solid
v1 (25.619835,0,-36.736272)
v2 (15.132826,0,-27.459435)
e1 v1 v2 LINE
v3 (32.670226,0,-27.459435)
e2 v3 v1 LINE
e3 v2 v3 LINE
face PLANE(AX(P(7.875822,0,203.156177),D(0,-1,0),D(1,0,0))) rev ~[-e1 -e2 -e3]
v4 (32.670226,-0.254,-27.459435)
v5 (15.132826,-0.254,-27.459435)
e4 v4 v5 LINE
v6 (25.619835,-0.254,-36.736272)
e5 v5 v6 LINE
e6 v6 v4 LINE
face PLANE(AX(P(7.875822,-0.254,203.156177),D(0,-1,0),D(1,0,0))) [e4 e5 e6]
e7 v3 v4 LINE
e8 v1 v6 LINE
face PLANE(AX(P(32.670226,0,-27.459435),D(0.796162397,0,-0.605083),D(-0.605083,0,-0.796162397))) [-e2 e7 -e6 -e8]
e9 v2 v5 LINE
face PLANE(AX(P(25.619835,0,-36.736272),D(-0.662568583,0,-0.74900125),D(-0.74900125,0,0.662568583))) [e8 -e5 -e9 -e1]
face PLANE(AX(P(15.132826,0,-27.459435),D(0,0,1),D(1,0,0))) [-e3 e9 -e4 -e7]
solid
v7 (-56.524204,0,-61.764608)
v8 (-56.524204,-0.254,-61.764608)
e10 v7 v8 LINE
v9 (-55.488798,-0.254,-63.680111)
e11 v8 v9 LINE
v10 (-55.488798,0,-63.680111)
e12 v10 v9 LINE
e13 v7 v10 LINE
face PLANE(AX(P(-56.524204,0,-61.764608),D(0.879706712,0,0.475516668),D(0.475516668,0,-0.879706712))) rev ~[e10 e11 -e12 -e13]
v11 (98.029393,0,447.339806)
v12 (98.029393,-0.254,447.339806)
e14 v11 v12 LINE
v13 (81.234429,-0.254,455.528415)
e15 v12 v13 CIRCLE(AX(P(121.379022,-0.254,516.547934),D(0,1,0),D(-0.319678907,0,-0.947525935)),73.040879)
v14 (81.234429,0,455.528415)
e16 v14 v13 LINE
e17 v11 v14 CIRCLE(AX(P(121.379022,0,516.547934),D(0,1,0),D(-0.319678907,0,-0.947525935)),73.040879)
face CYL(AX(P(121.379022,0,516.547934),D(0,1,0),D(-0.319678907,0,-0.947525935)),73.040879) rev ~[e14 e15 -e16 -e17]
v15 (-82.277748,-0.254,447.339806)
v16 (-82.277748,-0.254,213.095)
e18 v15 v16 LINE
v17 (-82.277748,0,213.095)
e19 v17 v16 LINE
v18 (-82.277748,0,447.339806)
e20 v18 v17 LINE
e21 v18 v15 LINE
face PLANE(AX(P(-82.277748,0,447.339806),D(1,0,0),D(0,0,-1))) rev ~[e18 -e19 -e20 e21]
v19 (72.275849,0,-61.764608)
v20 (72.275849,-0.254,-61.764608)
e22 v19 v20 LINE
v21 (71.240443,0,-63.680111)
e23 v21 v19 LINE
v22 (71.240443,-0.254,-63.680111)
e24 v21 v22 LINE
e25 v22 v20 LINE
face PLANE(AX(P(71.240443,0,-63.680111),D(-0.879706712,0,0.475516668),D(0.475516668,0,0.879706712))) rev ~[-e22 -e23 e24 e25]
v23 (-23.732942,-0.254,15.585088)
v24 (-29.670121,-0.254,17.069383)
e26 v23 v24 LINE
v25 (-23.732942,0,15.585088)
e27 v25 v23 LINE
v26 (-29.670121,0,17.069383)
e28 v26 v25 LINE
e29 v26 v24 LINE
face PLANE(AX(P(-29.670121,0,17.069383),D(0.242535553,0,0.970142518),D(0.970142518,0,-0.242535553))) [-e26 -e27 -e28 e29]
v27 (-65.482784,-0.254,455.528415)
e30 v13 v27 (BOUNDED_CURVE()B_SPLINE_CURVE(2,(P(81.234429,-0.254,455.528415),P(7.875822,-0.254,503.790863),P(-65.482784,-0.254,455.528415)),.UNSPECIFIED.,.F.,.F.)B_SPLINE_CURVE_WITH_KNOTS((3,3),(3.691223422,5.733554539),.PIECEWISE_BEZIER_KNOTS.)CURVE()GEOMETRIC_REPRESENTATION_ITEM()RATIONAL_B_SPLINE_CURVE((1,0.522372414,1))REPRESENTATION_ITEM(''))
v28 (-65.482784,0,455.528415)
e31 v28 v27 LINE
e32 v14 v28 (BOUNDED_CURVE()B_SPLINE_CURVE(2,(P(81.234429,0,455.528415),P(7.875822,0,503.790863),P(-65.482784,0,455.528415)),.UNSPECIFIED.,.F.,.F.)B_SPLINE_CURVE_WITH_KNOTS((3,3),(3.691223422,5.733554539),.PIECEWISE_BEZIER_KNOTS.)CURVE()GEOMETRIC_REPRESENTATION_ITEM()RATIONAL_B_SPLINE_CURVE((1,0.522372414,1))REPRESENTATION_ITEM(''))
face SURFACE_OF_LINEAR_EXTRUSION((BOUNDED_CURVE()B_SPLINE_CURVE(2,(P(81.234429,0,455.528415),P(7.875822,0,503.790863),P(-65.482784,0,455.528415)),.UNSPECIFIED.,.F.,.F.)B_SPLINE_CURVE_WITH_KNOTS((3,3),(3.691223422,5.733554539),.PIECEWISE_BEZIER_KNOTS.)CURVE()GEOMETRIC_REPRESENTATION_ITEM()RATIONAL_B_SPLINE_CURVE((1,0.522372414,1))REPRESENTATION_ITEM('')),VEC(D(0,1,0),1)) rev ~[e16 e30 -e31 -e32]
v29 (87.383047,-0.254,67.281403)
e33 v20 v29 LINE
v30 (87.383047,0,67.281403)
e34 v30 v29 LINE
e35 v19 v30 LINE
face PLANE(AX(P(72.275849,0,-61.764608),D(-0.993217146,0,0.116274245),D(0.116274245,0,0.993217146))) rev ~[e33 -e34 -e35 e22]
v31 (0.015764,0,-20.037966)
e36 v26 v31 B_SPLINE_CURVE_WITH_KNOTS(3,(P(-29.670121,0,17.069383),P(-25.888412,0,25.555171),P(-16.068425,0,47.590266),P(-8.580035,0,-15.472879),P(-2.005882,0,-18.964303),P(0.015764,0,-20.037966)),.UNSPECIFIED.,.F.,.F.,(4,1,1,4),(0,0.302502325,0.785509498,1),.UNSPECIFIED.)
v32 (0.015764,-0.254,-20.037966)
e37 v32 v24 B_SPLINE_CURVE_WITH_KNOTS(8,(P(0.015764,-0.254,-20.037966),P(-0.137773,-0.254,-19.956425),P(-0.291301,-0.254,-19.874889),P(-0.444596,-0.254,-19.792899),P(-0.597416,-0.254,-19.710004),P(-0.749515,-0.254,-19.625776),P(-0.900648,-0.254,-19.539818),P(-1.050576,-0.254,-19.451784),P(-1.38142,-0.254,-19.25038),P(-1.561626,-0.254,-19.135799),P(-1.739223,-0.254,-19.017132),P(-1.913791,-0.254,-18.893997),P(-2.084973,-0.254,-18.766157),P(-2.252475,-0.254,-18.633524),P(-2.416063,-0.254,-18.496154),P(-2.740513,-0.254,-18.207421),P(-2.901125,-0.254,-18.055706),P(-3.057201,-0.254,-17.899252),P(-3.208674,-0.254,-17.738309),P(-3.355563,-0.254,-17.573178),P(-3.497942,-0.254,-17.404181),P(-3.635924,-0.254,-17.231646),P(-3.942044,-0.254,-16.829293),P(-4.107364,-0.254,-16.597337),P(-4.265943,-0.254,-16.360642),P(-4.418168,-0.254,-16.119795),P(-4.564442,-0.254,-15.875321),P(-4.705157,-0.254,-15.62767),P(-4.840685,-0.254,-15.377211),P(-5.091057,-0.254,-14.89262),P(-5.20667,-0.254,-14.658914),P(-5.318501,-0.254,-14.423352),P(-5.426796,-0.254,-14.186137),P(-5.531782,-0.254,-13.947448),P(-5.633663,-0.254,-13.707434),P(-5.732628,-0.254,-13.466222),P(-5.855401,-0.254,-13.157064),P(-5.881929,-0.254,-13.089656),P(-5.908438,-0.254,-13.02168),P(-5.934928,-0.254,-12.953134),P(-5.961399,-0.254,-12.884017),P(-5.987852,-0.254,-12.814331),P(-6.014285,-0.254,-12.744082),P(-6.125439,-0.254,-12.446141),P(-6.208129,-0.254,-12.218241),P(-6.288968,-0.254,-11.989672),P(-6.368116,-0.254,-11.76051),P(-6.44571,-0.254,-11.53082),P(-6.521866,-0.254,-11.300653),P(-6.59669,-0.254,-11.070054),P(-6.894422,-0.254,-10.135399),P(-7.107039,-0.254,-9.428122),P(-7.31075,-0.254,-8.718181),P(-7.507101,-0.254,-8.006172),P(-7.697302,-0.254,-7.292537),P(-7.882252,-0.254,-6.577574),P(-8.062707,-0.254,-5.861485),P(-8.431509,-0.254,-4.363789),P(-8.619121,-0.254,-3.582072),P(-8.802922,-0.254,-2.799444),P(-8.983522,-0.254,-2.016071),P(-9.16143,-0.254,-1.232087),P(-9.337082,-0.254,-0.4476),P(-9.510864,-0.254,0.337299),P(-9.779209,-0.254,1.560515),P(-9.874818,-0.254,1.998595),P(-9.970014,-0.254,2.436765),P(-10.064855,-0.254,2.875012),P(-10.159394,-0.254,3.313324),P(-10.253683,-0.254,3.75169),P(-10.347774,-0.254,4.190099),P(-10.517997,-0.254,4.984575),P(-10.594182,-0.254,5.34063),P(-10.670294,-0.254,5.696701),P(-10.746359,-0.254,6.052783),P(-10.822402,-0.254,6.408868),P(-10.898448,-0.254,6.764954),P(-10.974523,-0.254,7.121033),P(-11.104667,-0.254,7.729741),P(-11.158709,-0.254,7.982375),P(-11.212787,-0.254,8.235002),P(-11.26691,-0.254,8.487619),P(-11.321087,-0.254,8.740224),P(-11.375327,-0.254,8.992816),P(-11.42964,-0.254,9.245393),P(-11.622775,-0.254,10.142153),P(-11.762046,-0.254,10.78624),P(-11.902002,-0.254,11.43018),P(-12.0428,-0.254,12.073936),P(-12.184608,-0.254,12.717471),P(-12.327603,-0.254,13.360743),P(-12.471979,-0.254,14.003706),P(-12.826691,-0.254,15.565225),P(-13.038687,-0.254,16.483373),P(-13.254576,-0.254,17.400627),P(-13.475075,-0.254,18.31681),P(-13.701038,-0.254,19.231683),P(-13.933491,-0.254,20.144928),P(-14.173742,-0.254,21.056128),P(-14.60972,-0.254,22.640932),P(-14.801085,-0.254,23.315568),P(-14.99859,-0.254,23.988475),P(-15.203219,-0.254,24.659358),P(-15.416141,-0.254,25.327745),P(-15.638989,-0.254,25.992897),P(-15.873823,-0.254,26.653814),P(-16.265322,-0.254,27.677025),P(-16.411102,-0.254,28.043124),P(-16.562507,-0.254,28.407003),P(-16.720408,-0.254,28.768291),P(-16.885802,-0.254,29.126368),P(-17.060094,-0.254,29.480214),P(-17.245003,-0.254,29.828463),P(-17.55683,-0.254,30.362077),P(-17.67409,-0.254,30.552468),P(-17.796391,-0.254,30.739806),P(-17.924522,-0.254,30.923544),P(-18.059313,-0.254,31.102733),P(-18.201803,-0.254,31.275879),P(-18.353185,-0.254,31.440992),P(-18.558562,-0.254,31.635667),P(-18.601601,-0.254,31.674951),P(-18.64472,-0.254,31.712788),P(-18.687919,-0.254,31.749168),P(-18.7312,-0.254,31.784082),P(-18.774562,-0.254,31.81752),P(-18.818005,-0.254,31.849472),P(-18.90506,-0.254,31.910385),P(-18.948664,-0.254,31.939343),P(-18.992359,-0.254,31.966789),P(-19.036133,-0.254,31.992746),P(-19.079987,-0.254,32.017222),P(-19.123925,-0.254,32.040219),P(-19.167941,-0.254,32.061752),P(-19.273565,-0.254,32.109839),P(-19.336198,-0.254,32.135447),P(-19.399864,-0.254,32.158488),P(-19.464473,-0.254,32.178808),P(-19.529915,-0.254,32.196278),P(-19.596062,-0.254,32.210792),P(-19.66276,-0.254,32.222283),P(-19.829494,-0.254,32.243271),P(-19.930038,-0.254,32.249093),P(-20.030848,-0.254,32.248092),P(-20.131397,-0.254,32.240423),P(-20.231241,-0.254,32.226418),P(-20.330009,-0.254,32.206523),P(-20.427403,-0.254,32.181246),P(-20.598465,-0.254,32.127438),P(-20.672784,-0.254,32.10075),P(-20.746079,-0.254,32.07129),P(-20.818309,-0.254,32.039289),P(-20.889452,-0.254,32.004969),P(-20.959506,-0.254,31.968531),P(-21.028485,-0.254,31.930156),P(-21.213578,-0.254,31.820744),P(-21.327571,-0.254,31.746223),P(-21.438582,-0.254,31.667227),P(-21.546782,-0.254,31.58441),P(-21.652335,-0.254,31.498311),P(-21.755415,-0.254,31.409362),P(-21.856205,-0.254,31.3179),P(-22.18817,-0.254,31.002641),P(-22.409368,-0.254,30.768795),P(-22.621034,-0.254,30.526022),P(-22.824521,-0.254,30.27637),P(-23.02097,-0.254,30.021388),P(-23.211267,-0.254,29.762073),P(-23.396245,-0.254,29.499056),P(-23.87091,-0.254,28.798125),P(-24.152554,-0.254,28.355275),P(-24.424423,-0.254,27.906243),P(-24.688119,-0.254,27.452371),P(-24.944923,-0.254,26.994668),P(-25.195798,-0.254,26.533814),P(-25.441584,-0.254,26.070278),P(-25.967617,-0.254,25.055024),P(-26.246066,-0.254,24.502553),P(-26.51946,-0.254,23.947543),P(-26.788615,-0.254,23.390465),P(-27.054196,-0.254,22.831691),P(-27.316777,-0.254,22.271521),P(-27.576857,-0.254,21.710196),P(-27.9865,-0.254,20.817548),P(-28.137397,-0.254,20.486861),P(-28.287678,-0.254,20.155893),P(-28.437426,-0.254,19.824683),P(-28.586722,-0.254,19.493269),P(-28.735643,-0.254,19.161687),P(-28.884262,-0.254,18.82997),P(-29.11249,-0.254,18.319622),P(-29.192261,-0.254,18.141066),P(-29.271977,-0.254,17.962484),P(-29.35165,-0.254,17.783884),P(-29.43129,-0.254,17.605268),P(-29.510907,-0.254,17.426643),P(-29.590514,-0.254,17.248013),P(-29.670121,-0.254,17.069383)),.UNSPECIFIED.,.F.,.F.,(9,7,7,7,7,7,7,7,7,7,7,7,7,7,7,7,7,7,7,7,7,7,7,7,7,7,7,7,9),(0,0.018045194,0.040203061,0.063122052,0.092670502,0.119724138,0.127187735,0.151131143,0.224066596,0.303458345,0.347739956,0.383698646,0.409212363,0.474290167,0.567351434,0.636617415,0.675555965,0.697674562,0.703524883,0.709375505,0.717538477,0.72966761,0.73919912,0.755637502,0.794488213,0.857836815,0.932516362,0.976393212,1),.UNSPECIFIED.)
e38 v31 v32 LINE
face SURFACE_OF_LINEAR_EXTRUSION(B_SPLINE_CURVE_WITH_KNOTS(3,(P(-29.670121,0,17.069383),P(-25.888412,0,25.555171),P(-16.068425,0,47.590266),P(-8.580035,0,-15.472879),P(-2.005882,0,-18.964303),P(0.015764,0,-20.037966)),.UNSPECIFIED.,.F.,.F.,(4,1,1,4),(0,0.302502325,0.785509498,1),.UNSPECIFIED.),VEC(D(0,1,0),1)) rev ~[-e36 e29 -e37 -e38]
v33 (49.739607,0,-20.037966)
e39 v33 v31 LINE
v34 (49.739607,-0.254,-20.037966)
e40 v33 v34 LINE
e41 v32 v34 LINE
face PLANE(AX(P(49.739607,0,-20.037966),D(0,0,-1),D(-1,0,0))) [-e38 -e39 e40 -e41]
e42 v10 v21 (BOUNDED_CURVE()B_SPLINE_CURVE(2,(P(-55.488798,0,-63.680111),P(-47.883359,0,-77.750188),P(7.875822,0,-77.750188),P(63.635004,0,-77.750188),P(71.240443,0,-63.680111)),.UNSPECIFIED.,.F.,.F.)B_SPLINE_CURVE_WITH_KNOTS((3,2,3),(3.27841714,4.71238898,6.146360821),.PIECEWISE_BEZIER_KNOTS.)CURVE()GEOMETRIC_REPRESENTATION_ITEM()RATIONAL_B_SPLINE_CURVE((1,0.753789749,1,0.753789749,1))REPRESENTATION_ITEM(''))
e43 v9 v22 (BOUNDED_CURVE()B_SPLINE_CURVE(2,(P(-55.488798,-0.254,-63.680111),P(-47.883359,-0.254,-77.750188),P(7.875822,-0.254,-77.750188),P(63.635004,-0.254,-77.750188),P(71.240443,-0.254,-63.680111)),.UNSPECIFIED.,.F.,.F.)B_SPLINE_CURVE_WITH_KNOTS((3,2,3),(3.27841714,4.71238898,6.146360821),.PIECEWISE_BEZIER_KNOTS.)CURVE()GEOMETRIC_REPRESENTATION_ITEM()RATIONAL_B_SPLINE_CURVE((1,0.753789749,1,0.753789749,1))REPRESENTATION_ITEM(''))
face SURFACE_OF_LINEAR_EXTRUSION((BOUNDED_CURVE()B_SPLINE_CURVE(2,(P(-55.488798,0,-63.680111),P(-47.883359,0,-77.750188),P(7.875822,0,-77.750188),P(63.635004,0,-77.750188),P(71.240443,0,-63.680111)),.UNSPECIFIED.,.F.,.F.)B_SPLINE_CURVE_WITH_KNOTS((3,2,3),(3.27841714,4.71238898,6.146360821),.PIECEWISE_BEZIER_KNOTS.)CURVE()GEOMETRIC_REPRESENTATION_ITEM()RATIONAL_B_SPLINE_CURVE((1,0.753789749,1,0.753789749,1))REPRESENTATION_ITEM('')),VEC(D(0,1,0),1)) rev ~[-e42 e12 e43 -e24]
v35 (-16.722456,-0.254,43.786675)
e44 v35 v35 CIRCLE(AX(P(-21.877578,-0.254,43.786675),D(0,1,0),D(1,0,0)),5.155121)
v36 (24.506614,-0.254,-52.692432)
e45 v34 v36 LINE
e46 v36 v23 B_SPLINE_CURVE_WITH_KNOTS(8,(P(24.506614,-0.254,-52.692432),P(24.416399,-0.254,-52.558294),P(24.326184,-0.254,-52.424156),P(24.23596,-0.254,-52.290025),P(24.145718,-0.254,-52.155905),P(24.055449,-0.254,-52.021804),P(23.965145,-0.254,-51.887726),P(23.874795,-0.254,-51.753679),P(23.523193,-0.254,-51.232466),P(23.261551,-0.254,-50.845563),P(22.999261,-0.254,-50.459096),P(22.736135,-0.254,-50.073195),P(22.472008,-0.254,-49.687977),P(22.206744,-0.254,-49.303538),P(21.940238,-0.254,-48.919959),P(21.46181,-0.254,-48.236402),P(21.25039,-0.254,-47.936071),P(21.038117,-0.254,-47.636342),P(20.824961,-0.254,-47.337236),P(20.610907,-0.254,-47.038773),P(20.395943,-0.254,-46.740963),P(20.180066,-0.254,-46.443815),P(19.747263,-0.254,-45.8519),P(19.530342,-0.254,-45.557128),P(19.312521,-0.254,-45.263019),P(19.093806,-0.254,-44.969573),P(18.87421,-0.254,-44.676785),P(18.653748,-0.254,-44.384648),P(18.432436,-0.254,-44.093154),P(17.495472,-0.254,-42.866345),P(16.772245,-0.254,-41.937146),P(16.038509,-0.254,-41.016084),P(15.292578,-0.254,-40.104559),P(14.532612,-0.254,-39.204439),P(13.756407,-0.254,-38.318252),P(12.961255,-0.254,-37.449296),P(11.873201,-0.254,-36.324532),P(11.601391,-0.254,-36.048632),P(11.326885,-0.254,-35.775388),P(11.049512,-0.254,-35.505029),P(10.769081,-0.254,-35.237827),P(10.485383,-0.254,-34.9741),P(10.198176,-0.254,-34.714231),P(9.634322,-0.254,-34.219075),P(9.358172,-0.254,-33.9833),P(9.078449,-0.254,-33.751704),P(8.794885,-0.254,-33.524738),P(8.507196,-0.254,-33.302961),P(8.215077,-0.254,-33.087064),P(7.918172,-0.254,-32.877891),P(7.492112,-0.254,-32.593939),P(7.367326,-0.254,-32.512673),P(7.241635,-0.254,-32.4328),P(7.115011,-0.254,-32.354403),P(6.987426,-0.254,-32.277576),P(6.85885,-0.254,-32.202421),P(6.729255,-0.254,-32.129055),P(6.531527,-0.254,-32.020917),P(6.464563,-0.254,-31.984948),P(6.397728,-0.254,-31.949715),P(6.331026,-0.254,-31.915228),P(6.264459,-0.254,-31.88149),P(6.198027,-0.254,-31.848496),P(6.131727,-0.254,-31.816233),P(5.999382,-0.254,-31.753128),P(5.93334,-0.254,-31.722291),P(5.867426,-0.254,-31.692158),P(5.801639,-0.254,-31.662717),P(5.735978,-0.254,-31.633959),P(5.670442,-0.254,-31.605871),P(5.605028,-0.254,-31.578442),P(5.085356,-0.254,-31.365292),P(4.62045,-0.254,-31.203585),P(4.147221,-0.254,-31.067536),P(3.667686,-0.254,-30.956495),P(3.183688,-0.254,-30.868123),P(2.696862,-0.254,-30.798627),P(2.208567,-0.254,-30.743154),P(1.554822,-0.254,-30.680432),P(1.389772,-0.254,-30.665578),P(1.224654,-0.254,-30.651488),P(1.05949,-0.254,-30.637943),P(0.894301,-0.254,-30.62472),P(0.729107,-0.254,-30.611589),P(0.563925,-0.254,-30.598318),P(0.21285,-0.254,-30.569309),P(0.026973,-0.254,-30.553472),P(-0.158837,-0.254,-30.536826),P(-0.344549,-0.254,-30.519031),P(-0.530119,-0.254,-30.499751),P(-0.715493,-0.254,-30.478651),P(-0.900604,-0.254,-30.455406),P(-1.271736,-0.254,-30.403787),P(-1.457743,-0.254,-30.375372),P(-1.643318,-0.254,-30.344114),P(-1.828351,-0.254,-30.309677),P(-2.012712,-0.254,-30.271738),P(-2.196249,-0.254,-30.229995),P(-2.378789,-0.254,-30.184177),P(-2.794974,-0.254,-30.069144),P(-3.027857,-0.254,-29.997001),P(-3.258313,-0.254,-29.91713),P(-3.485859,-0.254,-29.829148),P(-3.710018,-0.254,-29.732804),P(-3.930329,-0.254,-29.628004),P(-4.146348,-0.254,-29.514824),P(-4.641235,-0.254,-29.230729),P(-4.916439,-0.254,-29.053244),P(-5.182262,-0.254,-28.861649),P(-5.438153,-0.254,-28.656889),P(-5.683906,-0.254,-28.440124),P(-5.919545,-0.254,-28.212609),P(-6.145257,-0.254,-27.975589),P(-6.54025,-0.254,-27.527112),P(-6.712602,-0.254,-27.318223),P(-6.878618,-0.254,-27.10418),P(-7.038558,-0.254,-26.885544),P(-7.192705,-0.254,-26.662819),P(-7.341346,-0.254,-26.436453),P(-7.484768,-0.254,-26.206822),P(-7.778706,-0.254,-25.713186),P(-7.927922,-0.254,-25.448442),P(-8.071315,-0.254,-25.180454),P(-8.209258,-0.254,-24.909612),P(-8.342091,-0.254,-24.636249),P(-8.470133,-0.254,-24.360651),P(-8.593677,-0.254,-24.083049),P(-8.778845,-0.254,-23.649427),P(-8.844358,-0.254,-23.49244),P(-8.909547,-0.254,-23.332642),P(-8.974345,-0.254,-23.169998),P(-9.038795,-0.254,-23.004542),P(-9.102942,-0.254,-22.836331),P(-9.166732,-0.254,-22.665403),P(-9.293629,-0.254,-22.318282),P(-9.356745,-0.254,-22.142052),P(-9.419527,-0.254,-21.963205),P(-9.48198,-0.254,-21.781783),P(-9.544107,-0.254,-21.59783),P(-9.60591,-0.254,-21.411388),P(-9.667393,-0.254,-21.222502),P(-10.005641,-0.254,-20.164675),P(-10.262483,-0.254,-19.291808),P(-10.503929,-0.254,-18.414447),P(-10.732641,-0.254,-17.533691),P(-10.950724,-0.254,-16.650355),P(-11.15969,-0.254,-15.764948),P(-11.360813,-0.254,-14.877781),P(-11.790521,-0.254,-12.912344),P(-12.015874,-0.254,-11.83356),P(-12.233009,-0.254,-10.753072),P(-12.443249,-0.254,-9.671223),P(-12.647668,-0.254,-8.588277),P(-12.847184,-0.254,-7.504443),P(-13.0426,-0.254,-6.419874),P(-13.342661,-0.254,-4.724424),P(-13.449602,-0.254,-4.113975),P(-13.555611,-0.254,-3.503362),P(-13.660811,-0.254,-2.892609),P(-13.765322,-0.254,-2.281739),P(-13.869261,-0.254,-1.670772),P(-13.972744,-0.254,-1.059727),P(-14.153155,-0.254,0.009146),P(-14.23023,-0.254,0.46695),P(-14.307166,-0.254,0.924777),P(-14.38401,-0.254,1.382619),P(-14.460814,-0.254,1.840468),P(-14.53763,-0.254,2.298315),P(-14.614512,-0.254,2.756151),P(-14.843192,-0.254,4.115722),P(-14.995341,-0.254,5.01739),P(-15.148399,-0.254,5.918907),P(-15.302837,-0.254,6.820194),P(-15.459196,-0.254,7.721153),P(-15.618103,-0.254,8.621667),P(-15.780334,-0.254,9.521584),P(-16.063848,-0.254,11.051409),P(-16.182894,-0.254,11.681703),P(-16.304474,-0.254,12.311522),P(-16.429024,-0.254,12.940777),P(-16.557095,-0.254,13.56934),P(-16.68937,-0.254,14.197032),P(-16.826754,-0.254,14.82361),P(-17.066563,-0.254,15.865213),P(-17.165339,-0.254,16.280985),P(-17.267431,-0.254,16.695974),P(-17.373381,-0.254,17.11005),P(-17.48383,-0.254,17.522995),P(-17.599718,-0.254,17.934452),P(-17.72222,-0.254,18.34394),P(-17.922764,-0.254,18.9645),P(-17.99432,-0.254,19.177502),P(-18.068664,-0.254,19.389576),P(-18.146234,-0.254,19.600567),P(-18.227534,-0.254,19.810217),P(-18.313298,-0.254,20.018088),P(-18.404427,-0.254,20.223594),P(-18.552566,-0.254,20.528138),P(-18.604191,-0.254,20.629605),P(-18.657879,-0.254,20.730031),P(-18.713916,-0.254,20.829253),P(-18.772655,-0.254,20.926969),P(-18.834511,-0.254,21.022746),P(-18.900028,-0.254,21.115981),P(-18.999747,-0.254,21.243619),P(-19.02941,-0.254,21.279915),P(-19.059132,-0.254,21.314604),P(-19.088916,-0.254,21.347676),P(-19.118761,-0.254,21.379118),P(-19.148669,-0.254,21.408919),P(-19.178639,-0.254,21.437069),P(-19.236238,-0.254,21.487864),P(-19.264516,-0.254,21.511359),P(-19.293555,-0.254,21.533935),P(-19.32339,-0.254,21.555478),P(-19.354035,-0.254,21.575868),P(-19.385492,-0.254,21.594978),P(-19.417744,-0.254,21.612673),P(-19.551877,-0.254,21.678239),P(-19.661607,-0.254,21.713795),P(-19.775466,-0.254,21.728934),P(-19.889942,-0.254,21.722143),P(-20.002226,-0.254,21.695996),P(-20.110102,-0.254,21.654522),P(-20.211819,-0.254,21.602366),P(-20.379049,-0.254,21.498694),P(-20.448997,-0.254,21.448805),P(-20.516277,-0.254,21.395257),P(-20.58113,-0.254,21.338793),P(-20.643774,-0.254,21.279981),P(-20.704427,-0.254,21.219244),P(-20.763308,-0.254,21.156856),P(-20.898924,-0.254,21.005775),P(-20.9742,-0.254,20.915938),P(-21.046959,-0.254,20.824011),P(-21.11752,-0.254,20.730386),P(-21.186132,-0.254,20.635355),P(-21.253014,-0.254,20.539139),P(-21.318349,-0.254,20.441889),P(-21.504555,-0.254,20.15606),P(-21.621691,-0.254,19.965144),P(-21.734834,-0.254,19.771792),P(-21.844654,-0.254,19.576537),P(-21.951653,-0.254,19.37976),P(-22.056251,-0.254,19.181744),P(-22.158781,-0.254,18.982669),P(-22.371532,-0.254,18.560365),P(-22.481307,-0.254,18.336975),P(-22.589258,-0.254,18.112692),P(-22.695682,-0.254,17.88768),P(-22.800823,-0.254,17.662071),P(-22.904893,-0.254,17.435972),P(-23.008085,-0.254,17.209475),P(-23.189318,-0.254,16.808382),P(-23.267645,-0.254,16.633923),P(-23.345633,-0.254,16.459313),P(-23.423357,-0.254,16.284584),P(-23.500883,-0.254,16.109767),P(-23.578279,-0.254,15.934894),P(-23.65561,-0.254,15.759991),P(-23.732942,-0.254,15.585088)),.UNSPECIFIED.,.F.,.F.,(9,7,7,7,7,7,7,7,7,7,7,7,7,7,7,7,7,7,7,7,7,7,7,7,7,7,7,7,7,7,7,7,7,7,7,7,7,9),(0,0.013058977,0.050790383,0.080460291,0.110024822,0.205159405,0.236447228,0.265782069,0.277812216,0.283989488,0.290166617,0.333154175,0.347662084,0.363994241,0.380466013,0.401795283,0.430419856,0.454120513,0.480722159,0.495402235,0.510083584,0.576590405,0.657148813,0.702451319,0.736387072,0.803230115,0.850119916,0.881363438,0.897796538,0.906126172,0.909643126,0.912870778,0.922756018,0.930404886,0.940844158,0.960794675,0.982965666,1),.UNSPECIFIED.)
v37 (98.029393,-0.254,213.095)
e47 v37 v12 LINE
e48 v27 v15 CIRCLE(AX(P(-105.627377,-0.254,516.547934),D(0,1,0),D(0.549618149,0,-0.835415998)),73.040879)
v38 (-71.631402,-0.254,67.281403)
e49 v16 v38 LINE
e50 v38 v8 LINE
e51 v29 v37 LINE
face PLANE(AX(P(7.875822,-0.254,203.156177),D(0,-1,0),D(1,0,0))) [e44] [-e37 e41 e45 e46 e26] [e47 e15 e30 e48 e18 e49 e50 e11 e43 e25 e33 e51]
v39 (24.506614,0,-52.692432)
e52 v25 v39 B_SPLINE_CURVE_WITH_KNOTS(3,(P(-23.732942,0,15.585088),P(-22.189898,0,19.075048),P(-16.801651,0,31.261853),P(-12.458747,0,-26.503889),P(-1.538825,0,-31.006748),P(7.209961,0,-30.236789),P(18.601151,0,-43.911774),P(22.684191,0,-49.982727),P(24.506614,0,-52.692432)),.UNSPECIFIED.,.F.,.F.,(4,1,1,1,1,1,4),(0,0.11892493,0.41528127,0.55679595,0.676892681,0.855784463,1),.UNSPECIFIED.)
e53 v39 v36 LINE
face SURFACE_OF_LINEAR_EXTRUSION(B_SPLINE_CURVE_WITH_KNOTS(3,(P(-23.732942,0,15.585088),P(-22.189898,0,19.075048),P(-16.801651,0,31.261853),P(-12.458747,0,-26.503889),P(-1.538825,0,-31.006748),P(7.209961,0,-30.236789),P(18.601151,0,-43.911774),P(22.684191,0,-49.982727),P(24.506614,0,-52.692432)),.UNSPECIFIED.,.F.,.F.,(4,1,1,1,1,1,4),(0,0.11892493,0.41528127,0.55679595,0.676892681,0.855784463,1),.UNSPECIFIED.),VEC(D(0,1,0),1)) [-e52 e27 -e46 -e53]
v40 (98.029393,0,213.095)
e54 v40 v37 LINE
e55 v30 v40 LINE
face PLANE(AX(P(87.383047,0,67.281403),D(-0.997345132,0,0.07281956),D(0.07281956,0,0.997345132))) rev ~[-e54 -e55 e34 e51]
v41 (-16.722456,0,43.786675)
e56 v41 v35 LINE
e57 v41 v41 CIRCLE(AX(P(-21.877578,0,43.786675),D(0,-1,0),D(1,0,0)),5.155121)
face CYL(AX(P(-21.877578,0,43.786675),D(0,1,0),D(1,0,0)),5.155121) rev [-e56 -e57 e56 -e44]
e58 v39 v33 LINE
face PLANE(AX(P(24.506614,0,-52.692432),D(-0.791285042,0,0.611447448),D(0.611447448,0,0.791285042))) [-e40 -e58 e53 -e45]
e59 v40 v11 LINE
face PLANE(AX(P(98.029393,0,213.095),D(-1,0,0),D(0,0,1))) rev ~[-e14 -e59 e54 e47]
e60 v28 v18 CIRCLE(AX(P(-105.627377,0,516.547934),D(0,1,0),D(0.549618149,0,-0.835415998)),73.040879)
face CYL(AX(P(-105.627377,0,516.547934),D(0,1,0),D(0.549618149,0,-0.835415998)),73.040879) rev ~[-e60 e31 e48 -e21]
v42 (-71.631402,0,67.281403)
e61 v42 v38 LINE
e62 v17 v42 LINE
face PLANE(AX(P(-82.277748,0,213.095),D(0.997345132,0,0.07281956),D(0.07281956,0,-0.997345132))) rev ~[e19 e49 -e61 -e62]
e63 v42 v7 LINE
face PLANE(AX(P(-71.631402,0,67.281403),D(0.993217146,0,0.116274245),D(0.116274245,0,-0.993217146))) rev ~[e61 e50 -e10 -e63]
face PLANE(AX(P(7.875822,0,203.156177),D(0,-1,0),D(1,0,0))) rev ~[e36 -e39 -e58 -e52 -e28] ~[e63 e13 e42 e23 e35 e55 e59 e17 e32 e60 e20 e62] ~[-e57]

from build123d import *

# Parameters (mm, degrees)
F2_DEPTH = 0.254
F0_R     = 5.1551211406
F3_DEPTH = 40.64


with BuildPart() as f2:
    # F1 (on Front) → F2 (new body)
    with BuildSketch(Plane.XZ):
        with BuildLine():
            Line((98.0293931603, 213.0949995701), (98.0293931603, 447.3398064059))
            ThreePointArc((98.0293931603, 447.3398064059), (89.3689862644, 450.894847932), (81.2344287075, 455.5284147234))
            add(Edge.make_bspline(
                [(81.2344287075, 455.5284147234), (7.8758224845, 503.7908629215), (-65.4827837385, 455.5284147234)],
                knots=[3.6912234215, 3.6912234215, 3.6912234215, 5.7335545392, 5.7335545392, 5.7335545392], degree=2, weights=[1, 0.5223724139, 1]))
            ThreePointArc((-65.4827837385, 455.5284147234), (-73.6173412954, 450.894847932), (-82.2777481914, 447.3398064059))
            Line((-82.2777481914, 447.3398064059), (-82.2777481914, 213.0949995701))
            Line((-82.2777481914, 213.0949995701), (-71.6314016223, 67.2814034059))
            Line((-71.6314016223, 67.2814034059), (-56.52420414, -61.7646081937))
            Line((-56.52420414, -61.7646081937), (-55.4887981594, -63.6801111653))
            add(Edge.make_bspline(
                [(-55.4887981594, -63.6801111653), (-47.8833589118, -77.7501877857), (7.8758224845, -77.7501877857), (63.6350038808, -77.7501877857), (71.2404431284, -63.6801111653)],
                knots=[3.2784171397, 3.2784171397, 3.2784171397, 4.7123889804, 4.7123889804, 6.1463608211, 6.1463608211, 6.1463608211], degree=2, weights=[1, 0.7537897491, 1, 0.7537897491, 1]))
            Line((71.2404431284, -63.6801111653), (72.2758491089, -61.7646081937))
            Line((72.2758491089, -61.7646081937), (87.3830465913, 67.2814034059))
            Line((87.3830465913, 67.2814034059), (98.0293931603, 213.0949995701))
        make_face()
    extrude(amount=F2_DEPTH)

    # F0 (on Front) → F3 (cut)
    with BuildSketch(Plane.XZ):
        with BuildLine():
            Line((-29.6701211482, 17.069382593), (-23.7329415977, 15.5850881711))
            add(Edge.make_bspline(
                [(-23.7329415977, 15.5850881711), (-22.1898984928, 19.0750479001), (-16.8016514541, 31.2618527374), (-12.4587472594, -26.5038893007), (-1.5388254929, -31.0067477607), (7.2099612907, -30.2367893705), (18.6011505638, -43.9117744096), (22.6841914598, -49.982726605), (24.5066136122, -52.6924319565)],
                knots=[0, 0, 0, 0, 0.1189249297, 0.4152812701, 0.5567959501, 0.6768926813, 0.8557844631, 1, 1, 1, 1], degree=3))
            Line((24.5066136122, -52.6924319565), (49.7396066785, -20.037965849))
            Line((49.7396066785, -20.037965849), (0.0157635659, -20.037965849))
            add(Edge.make_bspline(
                [(-29.6701211482, 17.069382593), (-25.888411588, 25.5551709484), (-16.0684249955, 47.59026554), (-8.5800350355, -15.4728792493), (-2.0058823339, -18.9643031175), (0.0157635659, -20.037965849)],
                knots=[0, 0, 0, 0, 0.3025023252, 0.7855094978, 1, 1, 1, 1], degree=3))
        make_face()
        Polygon((15.1328258216, -27.4594351649), (32.6702259481, -27.4594351649), (25.6198346615, -36.7362722754), align=None, mode=Mode.SUBTRACT)
        with Locations((-21.8775775284, 43.7866747379)):
            Circle(F0_R)
    extrude(amount=F3_DEPTH, mode=Mode.SUBTRACT)


solid = f2.part
